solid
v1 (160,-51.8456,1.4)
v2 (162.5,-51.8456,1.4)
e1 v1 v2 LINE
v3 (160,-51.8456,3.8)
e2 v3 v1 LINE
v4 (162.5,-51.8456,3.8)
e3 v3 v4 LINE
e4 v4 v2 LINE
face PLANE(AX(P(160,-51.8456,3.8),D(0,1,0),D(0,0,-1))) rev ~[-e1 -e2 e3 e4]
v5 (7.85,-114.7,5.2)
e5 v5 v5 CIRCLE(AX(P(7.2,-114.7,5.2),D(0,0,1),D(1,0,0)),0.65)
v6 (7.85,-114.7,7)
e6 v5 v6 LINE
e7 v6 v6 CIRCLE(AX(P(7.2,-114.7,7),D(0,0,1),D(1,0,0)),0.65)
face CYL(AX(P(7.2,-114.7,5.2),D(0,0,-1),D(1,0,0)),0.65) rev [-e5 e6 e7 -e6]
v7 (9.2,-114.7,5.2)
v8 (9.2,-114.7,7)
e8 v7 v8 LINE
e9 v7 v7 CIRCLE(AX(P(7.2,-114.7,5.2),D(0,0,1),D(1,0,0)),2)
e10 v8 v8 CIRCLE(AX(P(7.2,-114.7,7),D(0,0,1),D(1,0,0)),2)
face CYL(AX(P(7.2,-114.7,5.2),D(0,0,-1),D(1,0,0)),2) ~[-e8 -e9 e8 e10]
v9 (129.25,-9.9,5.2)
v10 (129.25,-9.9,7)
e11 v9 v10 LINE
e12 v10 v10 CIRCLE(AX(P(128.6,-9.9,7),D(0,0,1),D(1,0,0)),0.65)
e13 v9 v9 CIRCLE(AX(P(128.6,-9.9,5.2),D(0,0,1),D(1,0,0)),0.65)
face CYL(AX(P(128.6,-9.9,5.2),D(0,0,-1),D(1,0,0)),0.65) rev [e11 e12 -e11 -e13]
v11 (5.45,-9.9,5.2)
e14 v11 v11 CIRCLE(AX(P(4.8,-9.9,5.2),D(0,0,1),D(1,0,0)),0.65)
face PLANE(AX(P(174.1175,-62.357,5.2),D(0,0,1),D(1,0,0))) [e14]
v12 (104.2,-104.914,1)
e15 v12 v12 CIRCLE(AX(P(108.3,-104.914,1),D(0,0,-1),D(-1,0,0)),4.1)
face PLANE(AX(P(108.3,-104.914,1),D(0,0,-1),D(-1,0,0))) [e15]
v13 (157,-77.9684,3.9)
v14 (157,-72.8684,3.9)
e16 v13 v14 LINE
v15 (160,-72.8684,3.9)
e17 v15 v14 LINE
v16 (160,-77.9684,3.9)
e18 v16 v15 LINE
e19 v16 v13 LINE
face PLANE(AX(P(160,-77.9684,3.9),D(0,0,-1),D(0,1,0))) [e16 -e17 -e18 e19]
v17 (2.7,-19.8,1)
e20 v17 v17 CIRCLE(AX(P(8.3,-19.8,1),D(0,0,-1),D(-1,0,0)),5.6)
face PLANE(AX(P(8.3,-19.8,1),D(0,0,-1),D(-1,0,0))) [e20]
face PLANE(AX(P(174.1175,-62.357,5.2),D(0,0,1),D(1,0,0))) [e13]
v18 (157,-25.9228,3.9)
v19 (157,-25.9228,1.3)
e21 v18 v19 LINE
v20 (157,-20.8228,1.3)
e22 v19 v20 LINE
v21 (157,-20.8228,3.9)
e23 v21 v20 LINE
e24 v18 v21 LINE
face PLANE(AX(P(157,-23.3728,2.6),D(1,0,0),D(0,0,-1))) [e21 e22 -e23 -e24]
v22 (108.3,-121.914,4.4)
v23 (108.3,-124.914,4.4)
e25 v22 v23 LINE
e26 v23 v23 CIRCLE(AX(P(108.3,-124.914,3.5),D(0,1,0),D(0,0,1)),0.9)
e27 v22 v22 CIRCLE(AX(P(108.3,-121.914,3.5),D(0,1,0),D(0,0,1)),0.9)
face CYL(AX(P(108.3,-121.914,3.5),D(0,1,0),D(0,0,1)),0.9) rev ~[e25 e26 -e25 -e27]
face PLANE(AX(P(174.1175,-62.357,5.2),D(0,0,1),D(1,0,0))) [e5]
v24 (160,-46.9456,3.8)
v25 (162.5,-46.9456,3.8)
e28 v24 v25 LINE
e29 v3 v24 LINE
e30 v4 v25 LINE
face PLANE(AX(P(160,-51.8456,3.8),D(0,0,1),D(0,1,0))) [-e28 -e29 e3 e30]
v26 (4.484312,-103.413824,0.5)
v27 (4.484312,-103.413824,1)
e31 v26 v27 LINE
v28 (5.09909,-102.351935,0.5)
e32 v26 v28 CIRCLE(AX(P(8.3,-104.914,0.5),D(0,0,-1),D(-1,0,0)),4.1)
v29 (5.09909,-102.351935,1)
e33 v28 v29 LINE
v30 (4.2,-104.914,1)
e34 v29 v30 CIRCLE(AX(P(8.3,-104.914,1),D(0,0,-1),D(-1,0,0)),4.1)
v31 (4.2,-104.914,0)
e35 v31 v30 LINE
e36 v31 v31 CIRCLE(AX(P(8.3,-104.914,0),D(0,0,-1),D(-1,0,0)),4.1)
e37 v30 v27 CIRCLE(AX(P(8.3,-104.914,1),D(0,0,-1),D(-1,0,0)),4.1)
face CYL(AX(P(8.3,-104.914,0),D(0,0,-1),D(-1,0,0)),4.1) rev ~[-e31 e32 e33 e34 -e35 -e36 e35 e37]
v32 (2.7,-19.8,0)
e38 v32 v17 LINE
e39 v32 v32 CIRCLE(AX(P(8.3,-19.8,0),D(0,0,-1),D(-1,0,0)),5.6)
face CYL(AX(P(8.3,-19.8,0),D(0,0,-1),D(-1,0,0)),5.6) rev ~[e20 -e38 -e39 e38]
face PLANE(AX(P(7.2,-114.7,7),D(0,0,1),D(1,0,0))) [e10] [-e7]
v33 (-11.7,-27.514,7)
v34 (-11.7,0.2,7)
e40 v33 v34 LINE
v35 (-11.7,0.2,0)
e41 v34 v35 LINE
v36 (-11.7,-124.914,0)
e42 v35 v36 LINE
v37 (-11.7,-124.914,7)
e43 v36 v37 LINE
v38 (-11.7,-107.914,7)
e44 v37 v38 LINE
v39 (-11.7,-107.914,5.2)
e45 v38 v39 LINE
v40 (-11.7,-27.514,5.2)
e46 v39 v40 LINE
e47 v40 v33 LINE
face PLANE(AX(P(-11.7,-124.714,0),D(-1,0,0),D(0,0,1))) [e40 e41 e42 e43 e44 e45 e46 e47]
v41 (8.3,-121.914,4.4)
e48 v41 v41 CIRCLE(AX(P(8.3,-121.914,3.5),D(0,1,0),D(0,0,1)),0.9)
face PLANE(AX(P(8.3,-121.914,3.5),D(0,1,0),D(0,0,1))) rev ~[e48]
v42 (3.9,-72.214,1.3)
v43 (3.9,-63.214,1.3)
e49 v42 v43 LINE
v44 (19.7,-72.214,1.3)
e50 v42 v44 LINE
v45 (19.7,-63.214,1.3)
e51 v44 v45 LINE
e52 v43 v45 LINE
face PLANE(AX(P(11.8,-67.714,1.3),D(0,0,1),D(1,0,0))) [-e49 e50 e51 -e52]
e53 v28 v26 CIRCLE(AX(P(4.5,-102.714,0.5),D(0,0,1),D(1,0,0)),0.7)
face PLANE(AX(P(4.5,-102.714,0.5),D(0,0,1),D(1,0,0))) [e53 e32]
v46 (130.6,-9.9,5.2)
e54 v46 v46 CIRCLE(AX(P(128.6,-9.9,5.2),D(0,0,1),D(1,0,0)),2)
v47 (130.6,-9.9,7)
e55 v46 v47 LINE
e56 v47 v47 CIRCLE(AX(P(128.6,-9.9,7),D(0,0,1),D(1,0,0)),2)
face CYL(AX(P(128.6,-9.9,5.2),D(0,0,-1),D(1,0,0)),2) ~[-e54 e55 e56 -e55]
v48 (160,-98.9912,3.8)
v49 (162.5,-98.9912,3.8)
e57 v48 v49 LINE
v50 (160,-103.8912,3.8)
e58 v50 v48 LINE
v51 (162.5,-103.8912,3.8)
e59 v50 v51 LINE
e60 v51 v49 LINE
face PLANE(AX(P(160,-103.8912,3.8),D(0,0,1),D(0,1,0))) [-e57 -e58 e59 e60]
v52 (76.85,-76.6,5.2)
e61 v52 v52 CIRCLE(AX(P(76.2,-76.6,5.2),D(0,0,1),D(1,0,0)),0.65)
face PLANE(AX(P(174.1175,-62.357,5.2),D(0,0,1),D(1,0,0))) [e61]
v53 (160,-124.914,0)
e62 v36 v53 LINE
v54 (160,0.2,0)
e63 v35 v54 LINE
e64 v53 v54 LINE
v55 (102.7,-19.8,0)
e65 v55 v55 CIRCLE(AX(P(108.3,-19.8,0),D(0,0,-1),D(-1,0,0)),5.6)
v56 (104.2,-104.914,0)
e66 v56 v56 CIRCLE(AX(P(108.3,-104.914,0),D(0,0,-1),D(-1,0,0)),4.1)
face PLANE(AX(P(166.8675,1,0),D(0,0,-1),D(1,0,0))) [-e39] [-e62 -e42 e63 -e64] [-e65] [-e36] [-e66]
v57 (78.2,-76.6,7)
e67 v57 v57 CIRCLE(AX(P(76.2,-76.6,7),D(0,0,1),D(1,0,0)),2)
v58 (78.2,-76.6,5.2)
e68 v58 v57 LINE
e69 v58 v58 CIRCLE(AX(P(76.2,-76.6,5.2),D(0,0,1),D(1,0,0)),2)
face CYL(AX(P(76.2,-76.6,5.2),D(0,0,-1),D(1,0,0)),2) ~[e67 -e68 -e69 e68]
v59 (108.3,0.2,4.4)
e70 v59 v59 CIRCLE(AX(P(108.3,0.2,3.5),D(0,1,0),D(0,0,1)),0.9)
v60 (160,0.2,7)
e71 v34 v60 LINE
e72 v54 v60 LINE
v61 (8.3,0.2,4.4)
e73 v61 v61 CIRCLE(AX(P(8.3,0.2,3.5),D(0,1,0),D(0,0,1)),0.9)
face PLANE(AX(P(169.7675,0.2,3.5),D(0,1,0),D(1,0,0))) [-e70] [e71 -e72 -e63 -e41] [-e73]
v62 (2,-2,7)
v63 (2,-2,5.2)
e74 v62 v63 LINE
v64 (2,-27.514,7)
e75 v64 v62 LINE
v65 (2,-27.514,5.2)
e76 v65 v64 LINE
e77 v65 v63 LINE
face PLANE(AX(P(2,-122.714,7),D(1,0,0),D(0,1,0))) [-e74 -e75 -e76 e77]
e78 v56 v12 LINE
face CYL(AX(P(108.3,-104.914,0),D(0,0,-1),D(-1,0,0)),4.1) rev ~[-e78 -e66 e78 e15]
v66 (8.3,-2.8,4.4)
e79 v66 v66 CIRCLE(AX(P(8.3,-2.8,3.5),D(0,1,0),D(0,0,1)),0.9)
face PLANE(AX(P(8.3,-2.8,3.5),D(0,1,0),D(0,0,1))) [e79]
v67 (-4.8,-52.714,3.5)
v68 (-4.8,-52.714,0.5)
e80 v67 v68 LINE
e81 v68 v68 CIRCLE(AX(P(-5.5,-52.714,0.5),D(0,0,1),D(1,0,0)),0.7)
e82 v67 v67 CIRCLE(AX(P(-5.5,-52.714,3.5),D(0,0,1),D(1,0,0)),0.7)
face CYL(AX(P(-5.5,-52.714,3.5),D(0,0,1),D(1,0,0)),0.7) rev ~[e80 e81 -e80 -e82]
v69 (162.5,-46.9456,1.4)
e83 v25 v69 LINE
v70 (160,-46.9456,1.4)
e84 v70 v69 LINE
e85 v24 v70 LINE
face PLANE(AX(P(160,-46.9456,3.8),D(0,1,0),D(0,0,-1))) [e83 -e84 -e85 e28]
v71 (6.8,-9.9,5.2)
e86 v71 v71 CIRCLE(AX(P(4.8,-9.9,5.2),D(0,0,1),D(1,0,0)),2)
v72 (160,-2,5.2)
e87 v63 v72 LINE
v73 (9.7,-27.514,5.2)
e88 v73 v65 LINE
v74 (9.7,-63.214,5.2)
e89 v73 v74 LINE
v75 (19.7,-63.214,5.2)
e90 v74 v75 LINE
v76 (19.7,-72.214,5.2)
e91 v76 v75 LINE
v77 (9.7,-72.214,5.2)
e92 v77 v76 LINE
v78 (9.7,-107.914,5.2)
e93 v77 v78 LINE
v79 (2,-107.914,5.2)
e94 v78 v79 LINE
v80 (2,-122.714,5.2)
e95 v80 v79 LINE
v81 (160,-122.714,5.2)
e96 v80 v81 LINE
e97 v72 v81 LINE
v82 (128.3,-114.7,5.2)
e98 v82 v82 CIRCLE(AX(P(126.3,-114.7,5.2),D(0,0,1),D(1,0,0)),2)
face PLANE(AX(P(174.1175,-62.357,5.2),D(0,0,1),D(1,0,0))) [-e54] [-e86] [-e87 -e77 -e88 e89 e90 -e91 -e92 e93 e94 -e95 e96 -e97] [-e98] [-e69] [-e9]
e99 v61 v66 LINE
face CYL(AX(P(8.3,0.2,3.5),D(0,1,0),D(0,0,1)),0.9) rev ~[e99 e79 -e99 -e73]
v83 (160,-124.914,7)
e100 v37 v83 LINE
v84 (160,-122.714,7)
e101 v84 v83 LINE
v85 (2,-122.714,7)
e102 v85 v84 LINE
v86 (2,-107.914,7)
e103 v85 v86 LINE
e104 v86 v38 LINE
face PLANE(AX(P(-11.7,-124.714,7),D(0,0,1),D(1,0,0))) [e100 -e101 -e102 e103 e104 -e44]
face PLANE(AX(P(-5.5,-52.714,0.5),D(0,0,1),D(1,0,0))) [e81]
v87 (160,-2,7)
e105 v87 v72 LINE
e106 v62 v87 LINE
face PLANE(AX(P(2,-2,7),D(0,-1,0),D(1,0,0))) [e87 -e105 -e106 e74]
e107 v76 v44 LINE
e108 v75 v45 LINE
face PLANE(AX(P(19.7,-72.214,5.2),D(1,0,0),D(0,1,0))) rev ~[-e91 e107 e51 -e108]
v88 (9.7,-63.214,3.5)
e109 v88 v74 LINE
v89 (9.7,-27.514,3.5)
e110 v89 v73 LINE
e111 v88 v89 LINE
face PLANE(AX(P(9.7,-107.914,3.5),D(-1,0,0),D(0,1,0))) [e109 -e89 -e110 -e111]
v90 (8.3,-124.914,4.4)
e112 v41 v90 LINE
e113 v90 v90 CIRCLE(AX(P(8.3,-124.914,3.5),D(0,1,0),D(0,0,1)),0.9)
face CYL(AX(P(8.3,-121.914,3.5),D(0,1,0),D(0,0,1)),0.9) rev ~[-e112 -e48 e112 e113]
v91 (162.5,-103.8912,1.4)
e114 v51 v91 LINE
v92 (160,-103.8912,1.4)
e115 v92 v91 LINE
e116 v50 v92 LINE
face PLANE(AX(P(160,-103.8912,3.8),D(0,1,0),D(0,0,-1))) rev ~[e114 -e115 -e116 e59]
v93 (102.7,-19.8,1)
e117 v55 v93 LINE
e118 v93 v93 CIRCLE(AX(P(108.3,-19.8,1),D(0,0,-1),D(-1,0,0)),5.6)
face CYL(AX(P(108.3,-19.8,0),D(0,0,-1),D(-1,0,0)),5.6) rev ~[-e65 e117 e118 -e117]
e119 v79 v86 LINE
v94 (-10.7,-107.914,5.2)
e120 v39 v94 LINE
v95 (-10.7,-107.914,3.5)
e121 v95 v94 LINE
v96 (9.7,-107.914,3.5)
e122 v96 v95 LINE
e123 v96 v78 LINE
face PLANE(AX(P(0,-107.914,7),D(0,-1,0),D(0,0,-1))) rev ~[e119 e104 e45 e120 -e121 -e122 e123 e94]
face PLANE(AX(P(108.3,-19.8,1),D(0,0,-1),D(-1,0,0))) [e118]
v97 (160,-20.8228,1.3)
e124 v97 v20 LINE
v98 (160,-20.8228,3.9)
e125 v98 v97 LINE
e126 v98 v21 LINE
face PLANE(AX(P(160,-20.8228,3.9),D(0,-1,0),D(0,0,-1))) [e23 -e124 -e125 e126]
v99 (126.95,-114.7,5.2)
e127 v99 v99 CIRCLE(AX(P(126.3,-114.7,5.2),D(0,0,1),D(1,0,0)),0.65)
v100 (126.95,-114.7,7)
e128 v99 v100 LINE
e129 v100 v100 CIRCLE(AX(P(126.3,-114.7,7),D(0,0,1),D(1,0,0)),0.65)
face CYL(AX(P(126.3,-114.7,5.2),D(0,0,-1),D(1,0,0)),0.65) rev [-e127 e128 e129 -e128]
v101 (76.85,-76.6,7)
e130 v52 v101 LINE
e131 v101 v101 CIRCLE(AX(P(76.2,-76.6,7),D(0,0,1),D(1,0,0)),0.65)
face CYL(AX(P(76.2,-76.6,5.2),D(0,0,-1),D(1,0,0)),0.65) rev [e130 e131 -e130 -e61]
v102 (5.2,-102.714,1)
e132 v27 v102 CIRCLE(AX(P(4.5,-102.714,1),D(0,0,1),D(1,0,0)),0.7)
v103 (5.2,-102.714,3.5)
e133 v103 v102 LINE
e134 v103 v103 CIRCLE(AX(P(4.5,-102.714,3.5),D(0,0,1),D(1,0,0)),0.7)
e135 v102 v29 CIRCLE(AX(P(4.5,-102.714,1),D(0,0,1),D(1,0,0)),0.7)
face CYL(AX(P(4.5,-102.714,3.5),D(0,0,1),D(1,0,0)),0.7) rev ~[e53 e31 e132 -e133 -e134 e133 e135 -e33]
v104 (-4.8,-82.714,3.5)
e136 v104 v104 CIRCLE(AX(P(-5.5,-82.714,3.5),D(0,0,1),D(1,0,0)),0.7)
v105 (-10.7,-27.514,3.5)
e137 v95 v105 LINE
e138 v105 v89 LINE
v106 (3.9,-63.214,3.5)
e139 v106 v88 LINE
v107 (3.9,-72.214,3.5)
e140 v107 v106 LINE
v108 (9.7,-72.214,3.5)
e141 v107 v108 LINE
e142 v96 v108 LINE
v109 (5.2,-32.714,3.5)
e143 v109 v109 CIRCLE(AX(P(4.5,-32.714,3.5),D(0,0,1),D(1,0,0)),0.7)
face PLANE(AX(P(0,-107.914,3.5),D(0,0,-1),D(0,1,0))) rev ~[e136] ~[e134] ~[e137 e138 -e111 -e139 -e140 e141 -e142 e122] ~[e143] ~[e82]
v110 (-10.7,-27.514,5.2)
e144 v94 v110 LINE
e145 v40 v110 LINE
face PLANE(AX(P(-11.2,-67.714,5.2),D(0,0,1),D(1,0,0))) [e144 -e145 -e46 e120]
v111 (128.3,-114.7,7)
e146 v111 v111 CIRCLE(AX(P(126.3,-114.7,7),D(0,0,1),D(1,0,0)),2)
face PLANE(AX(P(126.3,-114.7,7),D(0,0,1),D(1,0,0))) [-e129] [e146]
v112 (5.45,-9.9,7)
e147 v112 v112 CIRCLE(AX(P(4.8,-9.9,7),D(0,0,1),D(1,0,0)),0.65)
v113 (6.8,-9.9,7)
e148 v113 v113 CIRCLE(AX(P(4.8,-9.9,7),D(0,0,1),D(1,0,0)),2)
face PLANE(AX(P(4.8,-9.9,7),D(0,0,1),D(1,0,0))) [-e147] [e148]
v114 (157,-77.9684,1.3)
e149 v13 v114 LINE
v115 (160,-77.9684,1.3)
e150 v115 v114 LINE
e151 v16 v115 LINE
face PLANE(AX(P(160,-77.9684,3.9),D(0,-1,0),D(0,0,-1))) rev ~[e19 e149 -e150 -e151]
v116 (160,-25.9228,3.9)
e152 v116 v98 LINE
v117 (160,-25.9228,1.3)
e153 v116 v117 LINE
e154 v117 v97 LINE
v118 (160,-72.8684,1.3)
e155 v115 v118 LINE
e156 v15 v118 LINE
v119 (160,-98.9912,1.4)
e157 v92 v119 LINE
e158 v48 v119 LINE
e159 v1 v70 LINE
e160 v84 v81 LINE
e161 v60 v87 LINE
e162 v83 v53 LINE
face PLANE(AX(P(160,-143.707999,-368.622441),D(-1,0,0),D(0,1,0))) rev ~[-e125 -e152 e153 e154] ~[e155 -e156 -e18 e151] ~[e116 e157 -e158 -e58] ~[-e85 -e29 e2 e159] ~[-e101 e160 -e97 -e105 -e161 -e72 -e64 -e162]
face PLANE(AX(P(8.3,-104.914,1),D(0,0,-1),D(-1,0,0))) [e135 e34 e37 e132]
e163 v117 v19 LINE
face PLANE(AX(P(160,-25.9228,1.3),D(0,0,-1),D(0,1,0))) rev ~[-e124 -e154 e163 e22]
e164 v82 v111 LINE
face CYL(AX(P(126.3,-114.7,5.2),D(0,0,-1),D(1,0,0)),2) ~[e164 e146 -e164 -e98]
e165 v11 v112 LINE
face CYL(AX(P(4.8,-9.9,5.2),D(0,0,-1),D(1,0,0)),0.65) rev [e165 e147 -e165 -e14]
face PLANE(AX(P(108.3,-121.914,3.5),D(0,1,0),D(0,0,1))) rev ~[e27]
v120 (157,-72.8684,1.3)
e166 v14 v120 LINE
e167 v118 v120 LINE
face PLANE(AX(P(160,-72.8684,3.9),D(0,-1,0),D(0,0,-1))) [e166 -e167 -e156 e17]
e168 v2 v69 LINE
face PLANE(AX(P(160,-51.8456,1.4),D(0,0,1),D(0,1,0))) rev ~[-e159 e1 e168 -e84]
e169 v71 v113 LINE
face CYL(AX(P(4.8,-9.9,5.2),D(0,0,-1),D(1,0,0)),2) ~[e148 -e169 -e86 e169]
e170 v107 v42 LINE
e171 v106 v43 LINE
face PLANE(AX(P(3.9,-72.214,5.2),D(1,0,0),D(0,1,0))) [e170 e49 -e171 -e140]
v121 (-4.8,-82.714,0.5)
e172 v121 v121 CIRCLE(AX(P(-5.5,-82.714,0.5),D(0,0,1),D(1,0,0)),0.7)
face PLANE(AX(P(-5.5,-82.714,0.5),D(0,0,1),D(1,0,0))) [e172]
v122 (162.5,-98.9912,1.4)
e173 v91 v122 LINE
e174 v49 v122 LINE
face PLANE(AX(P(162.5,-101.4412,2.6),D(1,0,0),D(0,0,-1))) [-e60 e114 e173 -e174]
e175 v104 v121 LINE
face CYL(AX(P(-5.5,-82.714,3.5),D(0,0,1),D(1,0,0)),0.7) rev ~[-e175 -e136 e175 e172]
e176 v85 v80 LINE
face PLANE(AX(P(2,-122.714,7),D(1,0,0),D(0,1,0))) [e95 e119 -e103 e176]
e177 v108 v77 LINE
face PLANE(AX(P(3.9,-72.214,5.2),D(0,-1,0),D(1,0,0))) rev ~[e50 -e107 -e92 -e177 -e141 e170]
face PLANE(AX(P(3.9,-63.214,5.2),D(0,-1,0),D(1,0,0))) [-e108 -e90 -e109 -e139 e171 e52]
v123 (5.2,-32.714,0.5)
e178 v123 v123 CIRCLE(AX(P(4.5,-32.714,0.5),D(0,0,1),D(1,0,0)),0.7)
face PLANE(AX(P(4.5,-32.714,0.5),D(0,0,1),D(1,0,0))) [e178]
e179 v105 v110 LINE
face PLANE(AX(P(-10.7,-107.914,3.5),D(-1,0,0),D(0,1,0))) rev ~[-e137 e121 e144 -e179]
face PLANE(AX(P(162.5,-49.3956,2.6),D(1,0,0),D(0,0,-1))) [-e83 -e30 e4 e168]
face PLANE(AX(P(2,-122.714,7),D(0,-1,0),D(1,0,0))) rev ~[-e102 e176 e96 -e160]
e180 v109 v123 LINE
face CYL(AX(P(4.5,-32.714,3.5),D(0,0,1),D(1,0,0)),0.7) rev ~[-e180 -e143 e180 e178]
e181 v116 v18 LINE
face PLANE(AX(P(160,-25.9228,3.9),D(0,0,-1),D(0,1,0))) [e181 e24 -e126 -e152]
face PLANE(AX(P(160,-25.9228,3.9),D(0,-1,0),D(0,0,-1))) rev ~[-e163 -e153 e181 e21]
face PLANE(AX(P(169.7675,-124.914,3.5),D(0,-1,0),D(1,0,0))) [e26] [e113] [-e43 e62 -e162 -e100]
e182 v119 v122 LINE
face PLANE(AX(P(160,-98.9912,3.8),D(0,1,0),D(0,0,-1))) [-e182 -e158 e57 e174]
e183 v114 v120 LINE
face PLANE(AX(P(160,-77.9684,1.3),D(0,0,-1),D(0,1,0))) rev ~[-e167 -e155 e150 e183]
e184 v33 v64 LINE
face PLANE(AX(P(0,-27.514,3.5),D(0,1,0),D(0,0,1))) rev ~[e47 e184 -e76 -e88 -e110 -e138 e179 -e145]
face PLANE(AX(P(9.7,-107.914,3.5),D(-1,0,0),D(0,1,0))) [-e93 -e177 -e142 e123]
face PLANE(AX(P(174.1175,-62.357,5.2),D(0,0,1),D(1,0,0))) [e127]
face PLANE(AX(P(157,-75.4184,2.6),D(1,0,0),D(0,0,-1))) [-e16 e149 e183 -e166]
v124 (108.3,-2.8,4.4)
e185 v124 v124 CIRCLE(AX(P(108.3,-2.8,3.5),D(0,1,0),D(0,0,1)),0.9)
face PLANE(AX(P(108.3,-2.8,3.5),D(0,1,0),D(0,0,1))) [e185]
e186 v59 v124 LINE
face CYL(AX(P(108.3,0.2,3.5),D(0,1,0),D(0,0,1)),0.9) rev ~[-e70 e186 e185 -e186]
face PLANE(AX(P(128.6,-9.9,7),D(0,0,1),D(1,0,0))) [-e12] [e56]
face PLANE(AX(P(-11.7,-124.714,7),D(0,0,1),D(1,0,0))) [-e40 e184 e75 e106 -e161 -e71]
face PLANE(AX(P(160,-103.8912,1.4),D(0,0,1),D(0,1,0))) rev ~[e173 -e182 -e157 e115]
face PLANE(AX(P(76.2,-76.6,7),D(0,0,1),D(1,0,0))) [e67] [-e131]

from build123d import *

# Parameters (mm, degrees)
SKETCH_1_W                      = 348.235
SKETCH_1_H                      = 124.714
EXTRUDE_1_DEPTH                 = 7
SKETCH_2_W                      = 344.235
SKETCH_2_H                      = 120.714
CUT_EXTRUDE_1_DEPTH             = 1.8
SKETCH_3_R                      = 2
SKETCH_3_R_2                    = 0.65
EXTRUDE_2_DEPTH                 = 1.8
CUT_EXTRUDE_2_DEPTH             = 370.930043415
CUT_EXTRUDE_2_DEPTH_BACK        = 1.7
SKETCH_4_W                      = 9.7
SKETCH_4_H                      = 80.4
SKETCH_6_W                      = 15.8
SKETCH_6_H                      = 9
CUT_EXTRUDE_3_DEPTH             = 3.9
SKETCH_7_W                      = 3.5
SKETCH_7_H                      = 80.4
EXTRUDE_3_DEPTH                 = 11.7
SKETCH_8_R                      = 0.7
CUT_EXTRUDE_4_DEPTH             = 3
SKETCH_9_W                      = 1
SKETCH_9_H                      = 80.4
EXTRUDE_4_DEPTH                 = 1.7
CUT_EXTRUDE_5_DEPTH             = 370.930043415
CUT_EXTRUDE_5_DEPTH_BACK        = 1.7
SKETCH_10_W                     = 20.2
SKETCH_10_H                     = 80.4
CUT_EXTRUDE_6_DEPTH             = 370.910052609
CUT_EXTRUDE_6_DEPTH_BACK        = 2.2
SKETCH_11_W                     = 15.8
SKETCH_11_H                     = 11.5
SKETCH_12_R                     = 0.65
CUT_EXTRUDE_7_DEPTH             = 3
SKETCH_13_W                     = 3
SKETCH_13_H                     = 124.714
EXTRUDE_5_DEPTH                 = 7
CUT_EXTRUDE_8_REACH             = 374.755
SKETCH_14_W                     = 6
SKETCH_14_H                     = 96.714
CUT_EXTRUDE_8_DIRECTION_2_DEPTH = 3
SKETCH_15_R                     = 2.6
CUT_EXTRUDE_9_DEPTH             = 0.7
SKETCH_15_3_R                   = 1
CUT_EXTRUDE_10_DEPTH            = 2.8
SKETCH_16_W                     = 362.935
SKETCH_16_H                     = 7
EXTRUDE_6_DEPTH                 = 0.2
SKETCH_17_W                     = 362.935
SKETCH_17_H                     = 7
EXTRUDE_7_DEPTH                 = 0.2
SKETCH_18_W                     = 10.4
SKETCH_18_H                     = 8.2
CUT_EXTRUDE_11_DEPTH            = 1.2
SKETCH_19_W                     = 4.2
SKETCH_19_H                     = 4.6
CUT_EXTRUDE_12_DEPTH            = 2.2
SKETCH_20_W                     = 10
SKETCH_20_H                     = 0.5
EXTRUDE_8_DEPTH                 = 0.8
SKETCH_21_W                     = 5.8
SKETCH_21_H                     = 1.6
EXTRUDE_9_DEPTH                 = 2.2
SKETCH_22_W                     = 13
SKETCH_22_H                     = 13
CUT_EXTRUDE_13_DEPTH            = 2.8
SKETCH_23_R                     = 5.6
SKETCH_23_R_2                   = 4.1
CUT_EXTRUDE_14_DEPTH            = 1
SKETCH_24_R                     = 0.9
CUT_EXTRUDE_15_DEPTH            = 3
CUT_EXTRUDE_START               = -122.114
SKETCH_24_2_R                   = 0.9
CUT_EXTRUDE_16_DEPTH            = 3
CUT_EXTRUDE_8779_DEPTH          = 373.822441145
CUT_EXTRUDE_8779_DEPTH_BACK     = 373.822441145
SKETCH_25_OUTSIDE_W             = 441.925
SKETCH_25_OUTSIDE_H             = 207.104
SKETCH_25_OUTSIDE_W_2           = 175.474128517
SKETCH_25_OUTSIDE_H_2           = 185.344548245
SKETCH_26_W                     = 2.6
SKETCH_26_H                     = 5.1
CUT_EXTRUDE_18_DEPTH            = 3
SKETCH_26_3_W                   = 2.4
SKETCH_26_3_H                   = 4.9
EXTRUDE_10_DEPTH                = 2.5


with BuildPart() as part:
    # 草图1 → 凸台-拉伸1 (new body)
    with BuildSketch(Plane.XY):
        with Locations((174.1175, -62.357)):
            Rectangle(SKETCH_1_W, SKETCH_1_H)
    extrude(amount=EXTRUDE_1_DEPTH)

    # 草图2 → 切除-拉伸1 (cut)
    with BuildSketch(Plane.XY.offset(7)):
        with Locations((174.1175, -62.357)):
            Rectangle(SKETCH_2_W, SKETCH_2_H)
    extrude(amount=-CUT_EXTRUDE_1_DEPTH, mode=Mode.SUBTRACT)

    # 草图3 → 凸台-拉伸2 (add)
    # profile 1 of 11: a face of its own
    with BuildSketch(Plane.XY.offset(5.2)):
        with Locations((4.8, -9.9)):
            Circle(SKETCH_3_R)
        with Locations((4.8, -9.9)):
            Circle(SKETCH_3_R_2, mode=Mode.SUBTRACT)
    # profile 2 of 11: a face of its own
    with BuildSketch(Plane.XY.offset(5.2)):
        with Locations((7.2, -114.7)):
            Circle(SKETCH_3_R)
        with Locations((7.2, -114.7)):
            Circle(SKETCH_3_R_2, mode=Mode.SUBTRACT)
    # profile 3 of 11: a face of its own
    with BuildSketch(Plane.XY.offset(5.2)):
        with Locations((76.2, -76.6)):
            Circle(SKETCH_3_R)
        with Locations((76.2, -76.6)):
            Circle(SKETCH_3_R_2, mode=Mode.SUBTRACT)
    # profile 4 of 11: a face of its own
    with BuildSketch(Plane.XY.offset(5.2)):
        with Locations((128.6, -9.9)):
            Circle(SKETCH_3_R)
        with Locations((128.6, -9.9)):
            Circle(SKETCH_3_R_2, mode=Mode.SUBTRACT)
    # profile 5 of 11: a face of its own
    with BuildSketch(Plane.XY.offset(5.2)):
        with Locations((126.3, -114.7)):
            Circle(SKETCH_3_R)
        with Locations((126.3, -114.7)):
            Circle(SKETCH_3_R_2, mode=Mode.SUBTRACT)
    # profile 6 of 11: a face of its own
    with BuildSketch(Plane.XY.offset(5.2)):
        with Locations((185.8, -57.5)):
            Circle(SKETCH_3_R)
        with Locations((185.8, -57.5)):
            Circle(SKETCH_3_R_2, mode=Mode.SUBTRACT)
    # profile 7 of 11: a face of its own
    with BuildSketch(Plane.XY.offset(5.2)):
        with Locations((252.5, -9.9)):
            Circle(SKETCH_3_R)
        with Locations((252.5, -9.9)):
            Circle(SKETCH_3_R_2, mode=Mode.SUBTRACT)
    # profile 8 of 11: a face of its own
    with BuildSketch(Plane.XY.offset(5.2)):
        with Locations((245.3, -114.7)):
            Circle(SKETCH_3_R)
        with Locations((245.3, -114.7)):
            Circle(SKETCH_3_R_2, mode=Mode.SUBTRACT)
    # profile 9 of 11: a face of its own
    with BuildSketch(Plane.XY.offset(5.2)):
        with Locations((333.4, -9.9)):
            Circle(SKETCH_3_R)
        with Locations((333.4, -9.9)):
            Circle(SKETCH_3_R_2, mode=Mode.SUBTRACT)
    # profile 10 of 11: a face of its own
    with BuildSketch(Plane.XY.offset(5.2)):
        with Locations((333.4, -114.7)):
            Circle(SKETCH_3_R)
        with Locations((333.4, -114.7)):
            Circle(SKETCH_3_R_2, mode=Mode.SUBTRACT)
    # profile 11 of 11: a face of its own
    with BuildSketch(Plane.XY.offset(5.2)):
        with Locations((266.8, -57.5)):
            Circle(SKETCH_3_R)
        with Locations((266.8, -57.5)):
            Circle(SKETCH_3_R_2, mode=Mode.SUBTRACT)
    extrude(amount=EXTRUDE_2_DEPTH)

    # 草图4 → 切除-拉伸2 (cut, two sides: drawn at the far end of the back side and taken through both)
    with BuildSketch(Plane.XY.offset(5.2).offset(-CUT_EXTRUDE_2_DEPTH_BACK)):
        with Locations((4.85, -67.714)):
            Rectangle(SKETCH_4_W, SKETCH_4_H)
    extrude(amount=CUT_EXTRUDE_2_DEPTH + CUT_EXTRUDE_2_DEPTH_BACK, mode=Mode.SUBTRACT)

    # 草图6 → 切除-拉伸3 (cut)
    with BuildSketch(Plane.XY.offset(5.2)):
        with Locations((11.8, -67.714)):
            Rectangle(SKETCH_6_W, SKETCH_6_H)
    extrude(amount=-CUT_EXTRUDE_3_DEPTH, mode=Mode.SUBTRACT)

    # 草图7 → 凸台-拉伸3 (add)
    with BuildSketch(Plane.ZY):
        Polygon((7, 0), (0, 0), (0, -27.514), (3.5, -27.514), (7, -27.514), align=None)
        with Locations((1.75, -67.714)):
            Rectangle(SKETCH_7_W, SKETCH_7_H)
        Polygon((3.5, -107.914), (0, -107.914), (0, -124.714), (7, -124.714), (7, -107.914), align=None)
    extrude(amount=EXTRUDE_3_DEPTH)

    # 草图8 → 切除-拉伸4 (cut)
    with BuildSketch(Plane.XY.offset(3.5)):
        with Locations((-5.5, -82.714)):
            Circle(SKETCH_8_R)
        with Locations((4.5, -102.714)):
            Circle(SKETCH_8_R)
        with Locations((-5.5, -52.714)):
            Circle(SKETCH_8_R)
        with Locations((4.5, -32.714)):
            Circle(SKETCH_8_R)
    extrude(amount=-CUT_EXTRUDE_4_DEPTH, mode=Mode.SUBTRACT)

    # 草图9 → 凸台-拉伸4 (add)
    with BuildSketch(Plane.XY.offset(3.5)):
        with Locations((-11.2, -67.714)):
            Rectangle(SKETCH_9_W, SKETCH_9_H)
    extrude(amount=EXTRUDE_4_DEPTH)

    # 草图10 → 切除-拉伸5 (cut, two sides: drawn at the far end of the back side and taken through both)
    with BuildSketch(Plane.XY.offset(5.2).offset(-CUT_EXTRUDE_5_DEPTH_BACK)):
        with Locations((338.135, -70.514)):
            Rectangle(SKETCH_10_W, SKETCH_10_H)
    extrude(amount=CUT_EXTRUDE_5_DEPTH + CUT_EXTRUDE_5_DEPTH_BACK, mode=Mode.SUBTRACT)

    # 草图11 → 切除-拉伸6 (cut, two sides: drawn at the far end of the back side and taken through both)
    with BuildSketch(Plane.XY.offset(3.5).offset(-CUT_EXTRUDE_6_DEPTH_BACK)):
        with Locations((325.935, -70.514)):
            Rectangle(SKETCH_11_W, SKETCH_11_H)
    extrude(amount=CUT_EXTRUDE_6_DEPTH + CUT_EXTRUDE_6_DEPTH_BACK, mode=Mode.SUBTRACT)

    # 草图12 → 切除-拉伸7 (cut)
    with BuildSketch(Plane.XY.offset(3.5)):
        with Locations((331.235, -107.514)):
            Circle(SKETCH_12_R)
        with Locations((340.235, -86.514)):
            Circle(SKETCH_12_R)
        with Locations((340.235, -54.514)):
            Circle(SKETCH_12_R)
        with Locations((331.235, -33.514)):
            Circle(SKETCH_12_R)
    extrude(amount=-CUT_EXTRUDE_7_DEPTH, mode=Mode.SUBTRACT)

    # 草图13 → 凸台-拉伸5 (add)
    with BuildSketch(Plane(origin=(0, 0, 0), x_dir=(-1, 0, 0), z_dir=(0, 0, -1))):
        with Locations((-349.735, -62.357)):
            Rectangle(SKETCH_13_W, SKETCH_13_H)
    extrude(amount=-EXTRUDE_5_DEPTH)

    # 切除-拉伸8: up to this face of the body (flat: up to its plane)
    cut_extrude_8_end = Plane(part.part.faces().sort_by_distance((338.452628763, -70.514, 3.5))[0])
    # 草图14 → 切除-拉伸8 (cut, up to the picked face)
    with BuildSketch(Plane.XY.offset(5.2), mode=Mode.PRIVATE) as cut_extrude_8_sk1:
        with Locations((345.435, -62.357)):
            Rectangle(SKETCH_14_W, SKETCH_14_H)
    cut_extrude_8_tool1 = split(extrude(cut_extrude_8_sk1.sketch, amount=-CUT_EXTRUDE_8_REACH, mode=Mode.PRIVATE), bisect_by=cut_extrude_8_end, keep=Keep.BOTH, mode=Mode.PRIVATE)
    add(cut_extrude_8_tool1.solids().sort_by(Axis((345.435, -62.357, 5.2), (0, 0, -1)))[0], mode=Mode.SUBTRACT)

    # 草图14 → 切除-拉伸8 direction 2 (cut)
    with BuildSketch(Plane.XY.offset(5.2)):
        with Locations((345.435, -62.357)):
            Rectangle(SKETCH_14_W, SKETCH_14_H)
    extrude(amount=CUT_EXTRUDE_8_DIRECTION_2_DEPTH, mode=Mode.SUBTRACT)

    # 草图15 → 切除-拉伸9 (cut)
    with BuildSketch(Plane(origin=(351.235, 0, 0), x_dir=(0, 0, -1), z_dir=(1, 0, 0))):
        with Locations((-3.5, -20)):
            Circle(SKETCH_15_R)
        with Locations((-3.5, -27.701272727)):
            Circle(SKETCH_15_R)
        with Locations((-3.5, -35.402545455)):
            Circle(SKETCH_15_R)
        with Locations((-3.5, -43.103818182)):
            Circle(SKETCH_15_R)
        with Locations((-3.5, -50.805090909)):
            Circle(SKETCH_15_R)
        with Locations((-3.5, -58.506363636)):
            Circle(SKETCH_15_R)
        with Locations((-3.5, -66.207636364)):
            Circle(SKETCH_15_R)
        with Locations((-3.5, -73.908909091)):
            Circle(SKETCH_15_R)
        with Locations((-3.5, -81.610181818)):
            Circle(SKETCH_15_R)
        with Locations((-3.5, -89.311454545)):
            Circle(SKETCH_15_R)
        with Locations((-3.5, -97.012727273)):
            Circle(SKETCH_15_R)
    extrude(amount=-CUT_EXTRUDE_9_DEPTH, mode=Mode.SUBTRACT)

    # 草图15<3> → 切除-拉伸10 (cut)
    with BuildSketch(Plane(origin=(351.235, 0, 0), x_dir=(0, 0, -1), z_dir=(1, 0, 0))):
        with Locations((-3.5, -20)):
            Circle(SKETCH_15_3_R)
        with Locations((-3.5, -27.701272727)):
            Circle(SKETCH_15_3_R)
        with Locations((-3.5, -35.402545455)):
            Circle(SKETCH_15_3_R)
        with Locations((-3.5, -43.103818182)):
            Circle(SKETCH_15_3_R)
        with Locations((-3.5, -50.805090909)):
            Circle(SKETCH_15_3_R)
        with Locations((-3.5, -58.506363636)):
            Circle(SKETCH_15_3_R)
        with Locations((-3.5, -66.207636364)):
            Circle(SKETCH_15_3_R)
        with Locations((-3.5, -73.908909091)):
            Circle(SKETCH_15_3_R)
        with Locations((-3.5, -81.610181818)):
            Circle(SKETCH_15_3_R)
        with Locations((-3.5, -89.311454545)):
            Circle(SKETCH_15_3_R)
        with Locations((-3.5, -97.012727273)):
            Circle(SKETCH_15_3_R)
    extrude(amount=-CUT_EXTRUDE_10_DEPTH, mode=Mode.SUBTRACT)

    # 草图16 → 凸台-拉伸6 (add)
    with BuildSketch(Plane(origin=(0, 0, 0), x_dir=(1, 0, 0), z_dir=(0, 1, 0))):
        with Locations((169.7675, -3.5)):
            Rectangle(SKETCH_16_W, SKETCH_16_H)
    extrude(amount=EXTRUDE_6_DEPTH)

    # 草图17 → 凸台-拉伸7 (add)
    with BuildSketch(Plane.XZ.offset(124.714)):
        with Locations((169.7675, 3.5)):
            Rectangle(SKETCH_17_W, SKETCH_17_H)
    extrude(amount=EXTRUDE_7_DEPTH)

    # 草图18 → 切除-拉伸11 (cut)
    with BuildSketch(Plane(origin=(0, 0.2, 0), x_dir=(1, 0, 0), z_dir=(0, 1, 0))):
        with Locations((169.7675, -4.6)):
            Rectangle(SKETCH_18_W, SKETCH_18_H)
    extrude(amount=-CUT_EXTRUDE_11_DEPTH, mode=Mode.SUBTRACT)

    # 草图19 → 切除-拉伸12 (cut)
    with BuildSketch(Plane(origin=(0, 0.2, 0), x_dir=(1, 0, 0), z_dir=(0, 1, 0))):
        with Locations((169.7675, -4.7)):
            Rectangle(SKETCH_19_W, SKETCH_19_H)
    extrude(amount=-CUT_EXTRUDE_12_DEPTH, mode=Mode.SUBTRACT)

    # 草图20 → 凸台-拉伸8 (add)
    with BuildSketch(Plane(origin=(0, 0.2, 0), x_dir=(1, 0, 0), z_dir=(0, 1, 0))):
        with Locations((169.7675, -0.25)):
            Rectangle(SKETCH_20_W, SKETCH_20_H)
    extrude(amount=EXTRUDE_8_DEPTH)

    # 草图21 → 凸台-拉伸9 (add)
    with BuildSketch(Plane(origin=(0, 1, 0), x_dir=(1, 0, 0), z_dir=(0, 1, 0))):
        with Locations((169.7675, -0.8)):
            Rectangle(SKETCH_21_W, SKETCH_21_H)
    extrude(amount=EXTRUDE_9_DEPTH)

    # 草图22 → 切除-拉伸13 (cut)
    with BuildSketch(Plane.XY.offset(5.2)):
        Polygon((171.8675, -2), (167.6675, -2), (167.6675, -6), (199.2675, -6), (212.2675, -6), (212.2675, -2), align=None)
        with Locations((205.7675, -12.5)):
            Rectangle(SKETCH_22_W, SKETCH_22_H)
    extrude(amount=-CUT_EXTRUDE_13_DEPTH, mode=Mode.SUBTRACT)

    # 草图23 → 切除-拉伸14 (cut)
    with BuildSketch(Plane(origin=(0, 0, 0), x_dir=(-1, 0, 0), z_dir=(0, 0, -1))):
        with Locations((-331.235, -19.8)):
            Circle(SKETCH_23_R)
        with Locations((-231.235, -19.8)):
            Circle(SKETCH_23_R)
        with Locations((-108.3, -19.8)):
            Circle(SKETCH_23_R)
        with Locations((-8.3, -19.8)):
            Circle(SKETCH_23_R)
        with Locations((-331.235, -104.914)):
            Circle(SKETCH_23_R_2)
        with Locations((-231.235, -104.914)):
            Circle(SKETCH_23_R_2)
        with Locations((-108.3, -104.914)):
            Circle(SKETCH_23_R_2)
        with Locations((-8.3, -104.914)):
            Circle(SKETCH_23_R_2)
    extrude(amount=-CUT_EXTRUDE_14_DEPTH, mode=Mode.SUBTRACT)

    # 草图24 → 切除-拉伸15 (cut)
    with BuildSketch(Plane(origin=(0, 0.2, 0), x_dir=(1, 0, 0), z_dir=(0, 1, 0))):
        with Locations(Location((8.3, -3.5, 0), (0, 0, 270))):
            Circle(SKETCH_24_R)
        with Locations(Location((108.3, -3.5, 0), (0, 0, 270))):
            Circle(SKETCH_24_R)
        with Locations(Location((231.235, -3.5, 0), (0, 0, 270))):
            Circle(SKETCH_24_R)
        with Locations(Location((331.235, -3.5, 0), (0, 0, 270))):
            Circle(SKETCH_24_R)
    extrude(amount=-CUT_EXTRUDE_15_DEPTH, mode=Mode.SUBTRACT)

    # 草图24<2> → 切除-拉伸16 (cut)
    with BuildSketch(Plane(origin=(0, 0.2, 0), x_dir=(1, 0, 0), z_dir=(0, 1, 0)).offset(CUT_EXTRUDE_START)):
        with Locations(Location((8.3, -3.5, 0), (0, 0, 270))):
            Circle(SKETCH_24_2_R)
        with Locations(Location((108.3, -3.5, 0), (0, 0, 270))):
            Circle(SKETCH_24_2_R)
        with Locations(Location((231.235, -3.5, 0), (0, 0, 270))):
            Circle(SKETCH_24_2_R)
        with Locations(Location((331.235, -3.5, 0), (0, 0, 270))):
            Circle(SKETCH_24_2_R)
    extrude(amount=-CUT_EXTRUDE_16_DEPTH, mode=Mode.SUBTRACT)

    # 草图25 outside → Cut-Extrude 8779 (cut, two sides: drawn at the far end of the back side and taken through both)
    with BuildSketch(Plane.XY.offset(5.2).offset(-CUT_EXTRUDE_8779_DEPTH_BACK)):
        with Locations((169.7675, -60.857)):
            Rectangle(SKETCH_25_OUTSIDE_W, SKETCH_25_OUTSIDE_H)
        with Locations((72.262935742, -51.035724743)):
            Rectangle(SKETCH_25_OUTSIDE_W_2, SKETCH_25_OUTSIDE_H_2, mode=Mode.SUBTRACT)
    extrude(amount=CUT_EXTRUDE_8779_DEPTH + CUT_EXTRUDE_8779_DEPTH_BACK, mode=Mode.SUBTRACT)

    # 草图26 → 切除-拉伸18 (cut)
    with BuildSketch(Plane(origin=(160, 0, 0), x_dir=(0, 0, -1), z_dir=(1, 0, 0))):
        with Locations((-2.6, -75.4184)):
            Rectangle(SKETCH_26_W, SKETCH_26_H)
        with Locations((-2.6, -23.3728)):
            Rectangle(SKETCH_26_W, SKETCH_26_H)
    extrude(amount=-CUT_EXTRUDE_18_DEPTH, mode=Mode.SUBTRACT)

    # 草图26<3> → 凸台-拉伸10 (add)
    with BuildSketch(Plane(origin=(160, 0, 0), x_dir=(0, 0, -1), z_dir=(1, 0, 0))):
        with Locations((-2.6, -101.4412)):
            Rectangle(SKETCH_26_3_W, SKETCH_26_3_H)
        with Locations((-2.6, -49.3956)):
            Rectangle(SKETCH_26_3_W, SKETCH_26_3_H)
    extrude(amount=EXTRUDE_10_DEPTH)


solid = part.part
